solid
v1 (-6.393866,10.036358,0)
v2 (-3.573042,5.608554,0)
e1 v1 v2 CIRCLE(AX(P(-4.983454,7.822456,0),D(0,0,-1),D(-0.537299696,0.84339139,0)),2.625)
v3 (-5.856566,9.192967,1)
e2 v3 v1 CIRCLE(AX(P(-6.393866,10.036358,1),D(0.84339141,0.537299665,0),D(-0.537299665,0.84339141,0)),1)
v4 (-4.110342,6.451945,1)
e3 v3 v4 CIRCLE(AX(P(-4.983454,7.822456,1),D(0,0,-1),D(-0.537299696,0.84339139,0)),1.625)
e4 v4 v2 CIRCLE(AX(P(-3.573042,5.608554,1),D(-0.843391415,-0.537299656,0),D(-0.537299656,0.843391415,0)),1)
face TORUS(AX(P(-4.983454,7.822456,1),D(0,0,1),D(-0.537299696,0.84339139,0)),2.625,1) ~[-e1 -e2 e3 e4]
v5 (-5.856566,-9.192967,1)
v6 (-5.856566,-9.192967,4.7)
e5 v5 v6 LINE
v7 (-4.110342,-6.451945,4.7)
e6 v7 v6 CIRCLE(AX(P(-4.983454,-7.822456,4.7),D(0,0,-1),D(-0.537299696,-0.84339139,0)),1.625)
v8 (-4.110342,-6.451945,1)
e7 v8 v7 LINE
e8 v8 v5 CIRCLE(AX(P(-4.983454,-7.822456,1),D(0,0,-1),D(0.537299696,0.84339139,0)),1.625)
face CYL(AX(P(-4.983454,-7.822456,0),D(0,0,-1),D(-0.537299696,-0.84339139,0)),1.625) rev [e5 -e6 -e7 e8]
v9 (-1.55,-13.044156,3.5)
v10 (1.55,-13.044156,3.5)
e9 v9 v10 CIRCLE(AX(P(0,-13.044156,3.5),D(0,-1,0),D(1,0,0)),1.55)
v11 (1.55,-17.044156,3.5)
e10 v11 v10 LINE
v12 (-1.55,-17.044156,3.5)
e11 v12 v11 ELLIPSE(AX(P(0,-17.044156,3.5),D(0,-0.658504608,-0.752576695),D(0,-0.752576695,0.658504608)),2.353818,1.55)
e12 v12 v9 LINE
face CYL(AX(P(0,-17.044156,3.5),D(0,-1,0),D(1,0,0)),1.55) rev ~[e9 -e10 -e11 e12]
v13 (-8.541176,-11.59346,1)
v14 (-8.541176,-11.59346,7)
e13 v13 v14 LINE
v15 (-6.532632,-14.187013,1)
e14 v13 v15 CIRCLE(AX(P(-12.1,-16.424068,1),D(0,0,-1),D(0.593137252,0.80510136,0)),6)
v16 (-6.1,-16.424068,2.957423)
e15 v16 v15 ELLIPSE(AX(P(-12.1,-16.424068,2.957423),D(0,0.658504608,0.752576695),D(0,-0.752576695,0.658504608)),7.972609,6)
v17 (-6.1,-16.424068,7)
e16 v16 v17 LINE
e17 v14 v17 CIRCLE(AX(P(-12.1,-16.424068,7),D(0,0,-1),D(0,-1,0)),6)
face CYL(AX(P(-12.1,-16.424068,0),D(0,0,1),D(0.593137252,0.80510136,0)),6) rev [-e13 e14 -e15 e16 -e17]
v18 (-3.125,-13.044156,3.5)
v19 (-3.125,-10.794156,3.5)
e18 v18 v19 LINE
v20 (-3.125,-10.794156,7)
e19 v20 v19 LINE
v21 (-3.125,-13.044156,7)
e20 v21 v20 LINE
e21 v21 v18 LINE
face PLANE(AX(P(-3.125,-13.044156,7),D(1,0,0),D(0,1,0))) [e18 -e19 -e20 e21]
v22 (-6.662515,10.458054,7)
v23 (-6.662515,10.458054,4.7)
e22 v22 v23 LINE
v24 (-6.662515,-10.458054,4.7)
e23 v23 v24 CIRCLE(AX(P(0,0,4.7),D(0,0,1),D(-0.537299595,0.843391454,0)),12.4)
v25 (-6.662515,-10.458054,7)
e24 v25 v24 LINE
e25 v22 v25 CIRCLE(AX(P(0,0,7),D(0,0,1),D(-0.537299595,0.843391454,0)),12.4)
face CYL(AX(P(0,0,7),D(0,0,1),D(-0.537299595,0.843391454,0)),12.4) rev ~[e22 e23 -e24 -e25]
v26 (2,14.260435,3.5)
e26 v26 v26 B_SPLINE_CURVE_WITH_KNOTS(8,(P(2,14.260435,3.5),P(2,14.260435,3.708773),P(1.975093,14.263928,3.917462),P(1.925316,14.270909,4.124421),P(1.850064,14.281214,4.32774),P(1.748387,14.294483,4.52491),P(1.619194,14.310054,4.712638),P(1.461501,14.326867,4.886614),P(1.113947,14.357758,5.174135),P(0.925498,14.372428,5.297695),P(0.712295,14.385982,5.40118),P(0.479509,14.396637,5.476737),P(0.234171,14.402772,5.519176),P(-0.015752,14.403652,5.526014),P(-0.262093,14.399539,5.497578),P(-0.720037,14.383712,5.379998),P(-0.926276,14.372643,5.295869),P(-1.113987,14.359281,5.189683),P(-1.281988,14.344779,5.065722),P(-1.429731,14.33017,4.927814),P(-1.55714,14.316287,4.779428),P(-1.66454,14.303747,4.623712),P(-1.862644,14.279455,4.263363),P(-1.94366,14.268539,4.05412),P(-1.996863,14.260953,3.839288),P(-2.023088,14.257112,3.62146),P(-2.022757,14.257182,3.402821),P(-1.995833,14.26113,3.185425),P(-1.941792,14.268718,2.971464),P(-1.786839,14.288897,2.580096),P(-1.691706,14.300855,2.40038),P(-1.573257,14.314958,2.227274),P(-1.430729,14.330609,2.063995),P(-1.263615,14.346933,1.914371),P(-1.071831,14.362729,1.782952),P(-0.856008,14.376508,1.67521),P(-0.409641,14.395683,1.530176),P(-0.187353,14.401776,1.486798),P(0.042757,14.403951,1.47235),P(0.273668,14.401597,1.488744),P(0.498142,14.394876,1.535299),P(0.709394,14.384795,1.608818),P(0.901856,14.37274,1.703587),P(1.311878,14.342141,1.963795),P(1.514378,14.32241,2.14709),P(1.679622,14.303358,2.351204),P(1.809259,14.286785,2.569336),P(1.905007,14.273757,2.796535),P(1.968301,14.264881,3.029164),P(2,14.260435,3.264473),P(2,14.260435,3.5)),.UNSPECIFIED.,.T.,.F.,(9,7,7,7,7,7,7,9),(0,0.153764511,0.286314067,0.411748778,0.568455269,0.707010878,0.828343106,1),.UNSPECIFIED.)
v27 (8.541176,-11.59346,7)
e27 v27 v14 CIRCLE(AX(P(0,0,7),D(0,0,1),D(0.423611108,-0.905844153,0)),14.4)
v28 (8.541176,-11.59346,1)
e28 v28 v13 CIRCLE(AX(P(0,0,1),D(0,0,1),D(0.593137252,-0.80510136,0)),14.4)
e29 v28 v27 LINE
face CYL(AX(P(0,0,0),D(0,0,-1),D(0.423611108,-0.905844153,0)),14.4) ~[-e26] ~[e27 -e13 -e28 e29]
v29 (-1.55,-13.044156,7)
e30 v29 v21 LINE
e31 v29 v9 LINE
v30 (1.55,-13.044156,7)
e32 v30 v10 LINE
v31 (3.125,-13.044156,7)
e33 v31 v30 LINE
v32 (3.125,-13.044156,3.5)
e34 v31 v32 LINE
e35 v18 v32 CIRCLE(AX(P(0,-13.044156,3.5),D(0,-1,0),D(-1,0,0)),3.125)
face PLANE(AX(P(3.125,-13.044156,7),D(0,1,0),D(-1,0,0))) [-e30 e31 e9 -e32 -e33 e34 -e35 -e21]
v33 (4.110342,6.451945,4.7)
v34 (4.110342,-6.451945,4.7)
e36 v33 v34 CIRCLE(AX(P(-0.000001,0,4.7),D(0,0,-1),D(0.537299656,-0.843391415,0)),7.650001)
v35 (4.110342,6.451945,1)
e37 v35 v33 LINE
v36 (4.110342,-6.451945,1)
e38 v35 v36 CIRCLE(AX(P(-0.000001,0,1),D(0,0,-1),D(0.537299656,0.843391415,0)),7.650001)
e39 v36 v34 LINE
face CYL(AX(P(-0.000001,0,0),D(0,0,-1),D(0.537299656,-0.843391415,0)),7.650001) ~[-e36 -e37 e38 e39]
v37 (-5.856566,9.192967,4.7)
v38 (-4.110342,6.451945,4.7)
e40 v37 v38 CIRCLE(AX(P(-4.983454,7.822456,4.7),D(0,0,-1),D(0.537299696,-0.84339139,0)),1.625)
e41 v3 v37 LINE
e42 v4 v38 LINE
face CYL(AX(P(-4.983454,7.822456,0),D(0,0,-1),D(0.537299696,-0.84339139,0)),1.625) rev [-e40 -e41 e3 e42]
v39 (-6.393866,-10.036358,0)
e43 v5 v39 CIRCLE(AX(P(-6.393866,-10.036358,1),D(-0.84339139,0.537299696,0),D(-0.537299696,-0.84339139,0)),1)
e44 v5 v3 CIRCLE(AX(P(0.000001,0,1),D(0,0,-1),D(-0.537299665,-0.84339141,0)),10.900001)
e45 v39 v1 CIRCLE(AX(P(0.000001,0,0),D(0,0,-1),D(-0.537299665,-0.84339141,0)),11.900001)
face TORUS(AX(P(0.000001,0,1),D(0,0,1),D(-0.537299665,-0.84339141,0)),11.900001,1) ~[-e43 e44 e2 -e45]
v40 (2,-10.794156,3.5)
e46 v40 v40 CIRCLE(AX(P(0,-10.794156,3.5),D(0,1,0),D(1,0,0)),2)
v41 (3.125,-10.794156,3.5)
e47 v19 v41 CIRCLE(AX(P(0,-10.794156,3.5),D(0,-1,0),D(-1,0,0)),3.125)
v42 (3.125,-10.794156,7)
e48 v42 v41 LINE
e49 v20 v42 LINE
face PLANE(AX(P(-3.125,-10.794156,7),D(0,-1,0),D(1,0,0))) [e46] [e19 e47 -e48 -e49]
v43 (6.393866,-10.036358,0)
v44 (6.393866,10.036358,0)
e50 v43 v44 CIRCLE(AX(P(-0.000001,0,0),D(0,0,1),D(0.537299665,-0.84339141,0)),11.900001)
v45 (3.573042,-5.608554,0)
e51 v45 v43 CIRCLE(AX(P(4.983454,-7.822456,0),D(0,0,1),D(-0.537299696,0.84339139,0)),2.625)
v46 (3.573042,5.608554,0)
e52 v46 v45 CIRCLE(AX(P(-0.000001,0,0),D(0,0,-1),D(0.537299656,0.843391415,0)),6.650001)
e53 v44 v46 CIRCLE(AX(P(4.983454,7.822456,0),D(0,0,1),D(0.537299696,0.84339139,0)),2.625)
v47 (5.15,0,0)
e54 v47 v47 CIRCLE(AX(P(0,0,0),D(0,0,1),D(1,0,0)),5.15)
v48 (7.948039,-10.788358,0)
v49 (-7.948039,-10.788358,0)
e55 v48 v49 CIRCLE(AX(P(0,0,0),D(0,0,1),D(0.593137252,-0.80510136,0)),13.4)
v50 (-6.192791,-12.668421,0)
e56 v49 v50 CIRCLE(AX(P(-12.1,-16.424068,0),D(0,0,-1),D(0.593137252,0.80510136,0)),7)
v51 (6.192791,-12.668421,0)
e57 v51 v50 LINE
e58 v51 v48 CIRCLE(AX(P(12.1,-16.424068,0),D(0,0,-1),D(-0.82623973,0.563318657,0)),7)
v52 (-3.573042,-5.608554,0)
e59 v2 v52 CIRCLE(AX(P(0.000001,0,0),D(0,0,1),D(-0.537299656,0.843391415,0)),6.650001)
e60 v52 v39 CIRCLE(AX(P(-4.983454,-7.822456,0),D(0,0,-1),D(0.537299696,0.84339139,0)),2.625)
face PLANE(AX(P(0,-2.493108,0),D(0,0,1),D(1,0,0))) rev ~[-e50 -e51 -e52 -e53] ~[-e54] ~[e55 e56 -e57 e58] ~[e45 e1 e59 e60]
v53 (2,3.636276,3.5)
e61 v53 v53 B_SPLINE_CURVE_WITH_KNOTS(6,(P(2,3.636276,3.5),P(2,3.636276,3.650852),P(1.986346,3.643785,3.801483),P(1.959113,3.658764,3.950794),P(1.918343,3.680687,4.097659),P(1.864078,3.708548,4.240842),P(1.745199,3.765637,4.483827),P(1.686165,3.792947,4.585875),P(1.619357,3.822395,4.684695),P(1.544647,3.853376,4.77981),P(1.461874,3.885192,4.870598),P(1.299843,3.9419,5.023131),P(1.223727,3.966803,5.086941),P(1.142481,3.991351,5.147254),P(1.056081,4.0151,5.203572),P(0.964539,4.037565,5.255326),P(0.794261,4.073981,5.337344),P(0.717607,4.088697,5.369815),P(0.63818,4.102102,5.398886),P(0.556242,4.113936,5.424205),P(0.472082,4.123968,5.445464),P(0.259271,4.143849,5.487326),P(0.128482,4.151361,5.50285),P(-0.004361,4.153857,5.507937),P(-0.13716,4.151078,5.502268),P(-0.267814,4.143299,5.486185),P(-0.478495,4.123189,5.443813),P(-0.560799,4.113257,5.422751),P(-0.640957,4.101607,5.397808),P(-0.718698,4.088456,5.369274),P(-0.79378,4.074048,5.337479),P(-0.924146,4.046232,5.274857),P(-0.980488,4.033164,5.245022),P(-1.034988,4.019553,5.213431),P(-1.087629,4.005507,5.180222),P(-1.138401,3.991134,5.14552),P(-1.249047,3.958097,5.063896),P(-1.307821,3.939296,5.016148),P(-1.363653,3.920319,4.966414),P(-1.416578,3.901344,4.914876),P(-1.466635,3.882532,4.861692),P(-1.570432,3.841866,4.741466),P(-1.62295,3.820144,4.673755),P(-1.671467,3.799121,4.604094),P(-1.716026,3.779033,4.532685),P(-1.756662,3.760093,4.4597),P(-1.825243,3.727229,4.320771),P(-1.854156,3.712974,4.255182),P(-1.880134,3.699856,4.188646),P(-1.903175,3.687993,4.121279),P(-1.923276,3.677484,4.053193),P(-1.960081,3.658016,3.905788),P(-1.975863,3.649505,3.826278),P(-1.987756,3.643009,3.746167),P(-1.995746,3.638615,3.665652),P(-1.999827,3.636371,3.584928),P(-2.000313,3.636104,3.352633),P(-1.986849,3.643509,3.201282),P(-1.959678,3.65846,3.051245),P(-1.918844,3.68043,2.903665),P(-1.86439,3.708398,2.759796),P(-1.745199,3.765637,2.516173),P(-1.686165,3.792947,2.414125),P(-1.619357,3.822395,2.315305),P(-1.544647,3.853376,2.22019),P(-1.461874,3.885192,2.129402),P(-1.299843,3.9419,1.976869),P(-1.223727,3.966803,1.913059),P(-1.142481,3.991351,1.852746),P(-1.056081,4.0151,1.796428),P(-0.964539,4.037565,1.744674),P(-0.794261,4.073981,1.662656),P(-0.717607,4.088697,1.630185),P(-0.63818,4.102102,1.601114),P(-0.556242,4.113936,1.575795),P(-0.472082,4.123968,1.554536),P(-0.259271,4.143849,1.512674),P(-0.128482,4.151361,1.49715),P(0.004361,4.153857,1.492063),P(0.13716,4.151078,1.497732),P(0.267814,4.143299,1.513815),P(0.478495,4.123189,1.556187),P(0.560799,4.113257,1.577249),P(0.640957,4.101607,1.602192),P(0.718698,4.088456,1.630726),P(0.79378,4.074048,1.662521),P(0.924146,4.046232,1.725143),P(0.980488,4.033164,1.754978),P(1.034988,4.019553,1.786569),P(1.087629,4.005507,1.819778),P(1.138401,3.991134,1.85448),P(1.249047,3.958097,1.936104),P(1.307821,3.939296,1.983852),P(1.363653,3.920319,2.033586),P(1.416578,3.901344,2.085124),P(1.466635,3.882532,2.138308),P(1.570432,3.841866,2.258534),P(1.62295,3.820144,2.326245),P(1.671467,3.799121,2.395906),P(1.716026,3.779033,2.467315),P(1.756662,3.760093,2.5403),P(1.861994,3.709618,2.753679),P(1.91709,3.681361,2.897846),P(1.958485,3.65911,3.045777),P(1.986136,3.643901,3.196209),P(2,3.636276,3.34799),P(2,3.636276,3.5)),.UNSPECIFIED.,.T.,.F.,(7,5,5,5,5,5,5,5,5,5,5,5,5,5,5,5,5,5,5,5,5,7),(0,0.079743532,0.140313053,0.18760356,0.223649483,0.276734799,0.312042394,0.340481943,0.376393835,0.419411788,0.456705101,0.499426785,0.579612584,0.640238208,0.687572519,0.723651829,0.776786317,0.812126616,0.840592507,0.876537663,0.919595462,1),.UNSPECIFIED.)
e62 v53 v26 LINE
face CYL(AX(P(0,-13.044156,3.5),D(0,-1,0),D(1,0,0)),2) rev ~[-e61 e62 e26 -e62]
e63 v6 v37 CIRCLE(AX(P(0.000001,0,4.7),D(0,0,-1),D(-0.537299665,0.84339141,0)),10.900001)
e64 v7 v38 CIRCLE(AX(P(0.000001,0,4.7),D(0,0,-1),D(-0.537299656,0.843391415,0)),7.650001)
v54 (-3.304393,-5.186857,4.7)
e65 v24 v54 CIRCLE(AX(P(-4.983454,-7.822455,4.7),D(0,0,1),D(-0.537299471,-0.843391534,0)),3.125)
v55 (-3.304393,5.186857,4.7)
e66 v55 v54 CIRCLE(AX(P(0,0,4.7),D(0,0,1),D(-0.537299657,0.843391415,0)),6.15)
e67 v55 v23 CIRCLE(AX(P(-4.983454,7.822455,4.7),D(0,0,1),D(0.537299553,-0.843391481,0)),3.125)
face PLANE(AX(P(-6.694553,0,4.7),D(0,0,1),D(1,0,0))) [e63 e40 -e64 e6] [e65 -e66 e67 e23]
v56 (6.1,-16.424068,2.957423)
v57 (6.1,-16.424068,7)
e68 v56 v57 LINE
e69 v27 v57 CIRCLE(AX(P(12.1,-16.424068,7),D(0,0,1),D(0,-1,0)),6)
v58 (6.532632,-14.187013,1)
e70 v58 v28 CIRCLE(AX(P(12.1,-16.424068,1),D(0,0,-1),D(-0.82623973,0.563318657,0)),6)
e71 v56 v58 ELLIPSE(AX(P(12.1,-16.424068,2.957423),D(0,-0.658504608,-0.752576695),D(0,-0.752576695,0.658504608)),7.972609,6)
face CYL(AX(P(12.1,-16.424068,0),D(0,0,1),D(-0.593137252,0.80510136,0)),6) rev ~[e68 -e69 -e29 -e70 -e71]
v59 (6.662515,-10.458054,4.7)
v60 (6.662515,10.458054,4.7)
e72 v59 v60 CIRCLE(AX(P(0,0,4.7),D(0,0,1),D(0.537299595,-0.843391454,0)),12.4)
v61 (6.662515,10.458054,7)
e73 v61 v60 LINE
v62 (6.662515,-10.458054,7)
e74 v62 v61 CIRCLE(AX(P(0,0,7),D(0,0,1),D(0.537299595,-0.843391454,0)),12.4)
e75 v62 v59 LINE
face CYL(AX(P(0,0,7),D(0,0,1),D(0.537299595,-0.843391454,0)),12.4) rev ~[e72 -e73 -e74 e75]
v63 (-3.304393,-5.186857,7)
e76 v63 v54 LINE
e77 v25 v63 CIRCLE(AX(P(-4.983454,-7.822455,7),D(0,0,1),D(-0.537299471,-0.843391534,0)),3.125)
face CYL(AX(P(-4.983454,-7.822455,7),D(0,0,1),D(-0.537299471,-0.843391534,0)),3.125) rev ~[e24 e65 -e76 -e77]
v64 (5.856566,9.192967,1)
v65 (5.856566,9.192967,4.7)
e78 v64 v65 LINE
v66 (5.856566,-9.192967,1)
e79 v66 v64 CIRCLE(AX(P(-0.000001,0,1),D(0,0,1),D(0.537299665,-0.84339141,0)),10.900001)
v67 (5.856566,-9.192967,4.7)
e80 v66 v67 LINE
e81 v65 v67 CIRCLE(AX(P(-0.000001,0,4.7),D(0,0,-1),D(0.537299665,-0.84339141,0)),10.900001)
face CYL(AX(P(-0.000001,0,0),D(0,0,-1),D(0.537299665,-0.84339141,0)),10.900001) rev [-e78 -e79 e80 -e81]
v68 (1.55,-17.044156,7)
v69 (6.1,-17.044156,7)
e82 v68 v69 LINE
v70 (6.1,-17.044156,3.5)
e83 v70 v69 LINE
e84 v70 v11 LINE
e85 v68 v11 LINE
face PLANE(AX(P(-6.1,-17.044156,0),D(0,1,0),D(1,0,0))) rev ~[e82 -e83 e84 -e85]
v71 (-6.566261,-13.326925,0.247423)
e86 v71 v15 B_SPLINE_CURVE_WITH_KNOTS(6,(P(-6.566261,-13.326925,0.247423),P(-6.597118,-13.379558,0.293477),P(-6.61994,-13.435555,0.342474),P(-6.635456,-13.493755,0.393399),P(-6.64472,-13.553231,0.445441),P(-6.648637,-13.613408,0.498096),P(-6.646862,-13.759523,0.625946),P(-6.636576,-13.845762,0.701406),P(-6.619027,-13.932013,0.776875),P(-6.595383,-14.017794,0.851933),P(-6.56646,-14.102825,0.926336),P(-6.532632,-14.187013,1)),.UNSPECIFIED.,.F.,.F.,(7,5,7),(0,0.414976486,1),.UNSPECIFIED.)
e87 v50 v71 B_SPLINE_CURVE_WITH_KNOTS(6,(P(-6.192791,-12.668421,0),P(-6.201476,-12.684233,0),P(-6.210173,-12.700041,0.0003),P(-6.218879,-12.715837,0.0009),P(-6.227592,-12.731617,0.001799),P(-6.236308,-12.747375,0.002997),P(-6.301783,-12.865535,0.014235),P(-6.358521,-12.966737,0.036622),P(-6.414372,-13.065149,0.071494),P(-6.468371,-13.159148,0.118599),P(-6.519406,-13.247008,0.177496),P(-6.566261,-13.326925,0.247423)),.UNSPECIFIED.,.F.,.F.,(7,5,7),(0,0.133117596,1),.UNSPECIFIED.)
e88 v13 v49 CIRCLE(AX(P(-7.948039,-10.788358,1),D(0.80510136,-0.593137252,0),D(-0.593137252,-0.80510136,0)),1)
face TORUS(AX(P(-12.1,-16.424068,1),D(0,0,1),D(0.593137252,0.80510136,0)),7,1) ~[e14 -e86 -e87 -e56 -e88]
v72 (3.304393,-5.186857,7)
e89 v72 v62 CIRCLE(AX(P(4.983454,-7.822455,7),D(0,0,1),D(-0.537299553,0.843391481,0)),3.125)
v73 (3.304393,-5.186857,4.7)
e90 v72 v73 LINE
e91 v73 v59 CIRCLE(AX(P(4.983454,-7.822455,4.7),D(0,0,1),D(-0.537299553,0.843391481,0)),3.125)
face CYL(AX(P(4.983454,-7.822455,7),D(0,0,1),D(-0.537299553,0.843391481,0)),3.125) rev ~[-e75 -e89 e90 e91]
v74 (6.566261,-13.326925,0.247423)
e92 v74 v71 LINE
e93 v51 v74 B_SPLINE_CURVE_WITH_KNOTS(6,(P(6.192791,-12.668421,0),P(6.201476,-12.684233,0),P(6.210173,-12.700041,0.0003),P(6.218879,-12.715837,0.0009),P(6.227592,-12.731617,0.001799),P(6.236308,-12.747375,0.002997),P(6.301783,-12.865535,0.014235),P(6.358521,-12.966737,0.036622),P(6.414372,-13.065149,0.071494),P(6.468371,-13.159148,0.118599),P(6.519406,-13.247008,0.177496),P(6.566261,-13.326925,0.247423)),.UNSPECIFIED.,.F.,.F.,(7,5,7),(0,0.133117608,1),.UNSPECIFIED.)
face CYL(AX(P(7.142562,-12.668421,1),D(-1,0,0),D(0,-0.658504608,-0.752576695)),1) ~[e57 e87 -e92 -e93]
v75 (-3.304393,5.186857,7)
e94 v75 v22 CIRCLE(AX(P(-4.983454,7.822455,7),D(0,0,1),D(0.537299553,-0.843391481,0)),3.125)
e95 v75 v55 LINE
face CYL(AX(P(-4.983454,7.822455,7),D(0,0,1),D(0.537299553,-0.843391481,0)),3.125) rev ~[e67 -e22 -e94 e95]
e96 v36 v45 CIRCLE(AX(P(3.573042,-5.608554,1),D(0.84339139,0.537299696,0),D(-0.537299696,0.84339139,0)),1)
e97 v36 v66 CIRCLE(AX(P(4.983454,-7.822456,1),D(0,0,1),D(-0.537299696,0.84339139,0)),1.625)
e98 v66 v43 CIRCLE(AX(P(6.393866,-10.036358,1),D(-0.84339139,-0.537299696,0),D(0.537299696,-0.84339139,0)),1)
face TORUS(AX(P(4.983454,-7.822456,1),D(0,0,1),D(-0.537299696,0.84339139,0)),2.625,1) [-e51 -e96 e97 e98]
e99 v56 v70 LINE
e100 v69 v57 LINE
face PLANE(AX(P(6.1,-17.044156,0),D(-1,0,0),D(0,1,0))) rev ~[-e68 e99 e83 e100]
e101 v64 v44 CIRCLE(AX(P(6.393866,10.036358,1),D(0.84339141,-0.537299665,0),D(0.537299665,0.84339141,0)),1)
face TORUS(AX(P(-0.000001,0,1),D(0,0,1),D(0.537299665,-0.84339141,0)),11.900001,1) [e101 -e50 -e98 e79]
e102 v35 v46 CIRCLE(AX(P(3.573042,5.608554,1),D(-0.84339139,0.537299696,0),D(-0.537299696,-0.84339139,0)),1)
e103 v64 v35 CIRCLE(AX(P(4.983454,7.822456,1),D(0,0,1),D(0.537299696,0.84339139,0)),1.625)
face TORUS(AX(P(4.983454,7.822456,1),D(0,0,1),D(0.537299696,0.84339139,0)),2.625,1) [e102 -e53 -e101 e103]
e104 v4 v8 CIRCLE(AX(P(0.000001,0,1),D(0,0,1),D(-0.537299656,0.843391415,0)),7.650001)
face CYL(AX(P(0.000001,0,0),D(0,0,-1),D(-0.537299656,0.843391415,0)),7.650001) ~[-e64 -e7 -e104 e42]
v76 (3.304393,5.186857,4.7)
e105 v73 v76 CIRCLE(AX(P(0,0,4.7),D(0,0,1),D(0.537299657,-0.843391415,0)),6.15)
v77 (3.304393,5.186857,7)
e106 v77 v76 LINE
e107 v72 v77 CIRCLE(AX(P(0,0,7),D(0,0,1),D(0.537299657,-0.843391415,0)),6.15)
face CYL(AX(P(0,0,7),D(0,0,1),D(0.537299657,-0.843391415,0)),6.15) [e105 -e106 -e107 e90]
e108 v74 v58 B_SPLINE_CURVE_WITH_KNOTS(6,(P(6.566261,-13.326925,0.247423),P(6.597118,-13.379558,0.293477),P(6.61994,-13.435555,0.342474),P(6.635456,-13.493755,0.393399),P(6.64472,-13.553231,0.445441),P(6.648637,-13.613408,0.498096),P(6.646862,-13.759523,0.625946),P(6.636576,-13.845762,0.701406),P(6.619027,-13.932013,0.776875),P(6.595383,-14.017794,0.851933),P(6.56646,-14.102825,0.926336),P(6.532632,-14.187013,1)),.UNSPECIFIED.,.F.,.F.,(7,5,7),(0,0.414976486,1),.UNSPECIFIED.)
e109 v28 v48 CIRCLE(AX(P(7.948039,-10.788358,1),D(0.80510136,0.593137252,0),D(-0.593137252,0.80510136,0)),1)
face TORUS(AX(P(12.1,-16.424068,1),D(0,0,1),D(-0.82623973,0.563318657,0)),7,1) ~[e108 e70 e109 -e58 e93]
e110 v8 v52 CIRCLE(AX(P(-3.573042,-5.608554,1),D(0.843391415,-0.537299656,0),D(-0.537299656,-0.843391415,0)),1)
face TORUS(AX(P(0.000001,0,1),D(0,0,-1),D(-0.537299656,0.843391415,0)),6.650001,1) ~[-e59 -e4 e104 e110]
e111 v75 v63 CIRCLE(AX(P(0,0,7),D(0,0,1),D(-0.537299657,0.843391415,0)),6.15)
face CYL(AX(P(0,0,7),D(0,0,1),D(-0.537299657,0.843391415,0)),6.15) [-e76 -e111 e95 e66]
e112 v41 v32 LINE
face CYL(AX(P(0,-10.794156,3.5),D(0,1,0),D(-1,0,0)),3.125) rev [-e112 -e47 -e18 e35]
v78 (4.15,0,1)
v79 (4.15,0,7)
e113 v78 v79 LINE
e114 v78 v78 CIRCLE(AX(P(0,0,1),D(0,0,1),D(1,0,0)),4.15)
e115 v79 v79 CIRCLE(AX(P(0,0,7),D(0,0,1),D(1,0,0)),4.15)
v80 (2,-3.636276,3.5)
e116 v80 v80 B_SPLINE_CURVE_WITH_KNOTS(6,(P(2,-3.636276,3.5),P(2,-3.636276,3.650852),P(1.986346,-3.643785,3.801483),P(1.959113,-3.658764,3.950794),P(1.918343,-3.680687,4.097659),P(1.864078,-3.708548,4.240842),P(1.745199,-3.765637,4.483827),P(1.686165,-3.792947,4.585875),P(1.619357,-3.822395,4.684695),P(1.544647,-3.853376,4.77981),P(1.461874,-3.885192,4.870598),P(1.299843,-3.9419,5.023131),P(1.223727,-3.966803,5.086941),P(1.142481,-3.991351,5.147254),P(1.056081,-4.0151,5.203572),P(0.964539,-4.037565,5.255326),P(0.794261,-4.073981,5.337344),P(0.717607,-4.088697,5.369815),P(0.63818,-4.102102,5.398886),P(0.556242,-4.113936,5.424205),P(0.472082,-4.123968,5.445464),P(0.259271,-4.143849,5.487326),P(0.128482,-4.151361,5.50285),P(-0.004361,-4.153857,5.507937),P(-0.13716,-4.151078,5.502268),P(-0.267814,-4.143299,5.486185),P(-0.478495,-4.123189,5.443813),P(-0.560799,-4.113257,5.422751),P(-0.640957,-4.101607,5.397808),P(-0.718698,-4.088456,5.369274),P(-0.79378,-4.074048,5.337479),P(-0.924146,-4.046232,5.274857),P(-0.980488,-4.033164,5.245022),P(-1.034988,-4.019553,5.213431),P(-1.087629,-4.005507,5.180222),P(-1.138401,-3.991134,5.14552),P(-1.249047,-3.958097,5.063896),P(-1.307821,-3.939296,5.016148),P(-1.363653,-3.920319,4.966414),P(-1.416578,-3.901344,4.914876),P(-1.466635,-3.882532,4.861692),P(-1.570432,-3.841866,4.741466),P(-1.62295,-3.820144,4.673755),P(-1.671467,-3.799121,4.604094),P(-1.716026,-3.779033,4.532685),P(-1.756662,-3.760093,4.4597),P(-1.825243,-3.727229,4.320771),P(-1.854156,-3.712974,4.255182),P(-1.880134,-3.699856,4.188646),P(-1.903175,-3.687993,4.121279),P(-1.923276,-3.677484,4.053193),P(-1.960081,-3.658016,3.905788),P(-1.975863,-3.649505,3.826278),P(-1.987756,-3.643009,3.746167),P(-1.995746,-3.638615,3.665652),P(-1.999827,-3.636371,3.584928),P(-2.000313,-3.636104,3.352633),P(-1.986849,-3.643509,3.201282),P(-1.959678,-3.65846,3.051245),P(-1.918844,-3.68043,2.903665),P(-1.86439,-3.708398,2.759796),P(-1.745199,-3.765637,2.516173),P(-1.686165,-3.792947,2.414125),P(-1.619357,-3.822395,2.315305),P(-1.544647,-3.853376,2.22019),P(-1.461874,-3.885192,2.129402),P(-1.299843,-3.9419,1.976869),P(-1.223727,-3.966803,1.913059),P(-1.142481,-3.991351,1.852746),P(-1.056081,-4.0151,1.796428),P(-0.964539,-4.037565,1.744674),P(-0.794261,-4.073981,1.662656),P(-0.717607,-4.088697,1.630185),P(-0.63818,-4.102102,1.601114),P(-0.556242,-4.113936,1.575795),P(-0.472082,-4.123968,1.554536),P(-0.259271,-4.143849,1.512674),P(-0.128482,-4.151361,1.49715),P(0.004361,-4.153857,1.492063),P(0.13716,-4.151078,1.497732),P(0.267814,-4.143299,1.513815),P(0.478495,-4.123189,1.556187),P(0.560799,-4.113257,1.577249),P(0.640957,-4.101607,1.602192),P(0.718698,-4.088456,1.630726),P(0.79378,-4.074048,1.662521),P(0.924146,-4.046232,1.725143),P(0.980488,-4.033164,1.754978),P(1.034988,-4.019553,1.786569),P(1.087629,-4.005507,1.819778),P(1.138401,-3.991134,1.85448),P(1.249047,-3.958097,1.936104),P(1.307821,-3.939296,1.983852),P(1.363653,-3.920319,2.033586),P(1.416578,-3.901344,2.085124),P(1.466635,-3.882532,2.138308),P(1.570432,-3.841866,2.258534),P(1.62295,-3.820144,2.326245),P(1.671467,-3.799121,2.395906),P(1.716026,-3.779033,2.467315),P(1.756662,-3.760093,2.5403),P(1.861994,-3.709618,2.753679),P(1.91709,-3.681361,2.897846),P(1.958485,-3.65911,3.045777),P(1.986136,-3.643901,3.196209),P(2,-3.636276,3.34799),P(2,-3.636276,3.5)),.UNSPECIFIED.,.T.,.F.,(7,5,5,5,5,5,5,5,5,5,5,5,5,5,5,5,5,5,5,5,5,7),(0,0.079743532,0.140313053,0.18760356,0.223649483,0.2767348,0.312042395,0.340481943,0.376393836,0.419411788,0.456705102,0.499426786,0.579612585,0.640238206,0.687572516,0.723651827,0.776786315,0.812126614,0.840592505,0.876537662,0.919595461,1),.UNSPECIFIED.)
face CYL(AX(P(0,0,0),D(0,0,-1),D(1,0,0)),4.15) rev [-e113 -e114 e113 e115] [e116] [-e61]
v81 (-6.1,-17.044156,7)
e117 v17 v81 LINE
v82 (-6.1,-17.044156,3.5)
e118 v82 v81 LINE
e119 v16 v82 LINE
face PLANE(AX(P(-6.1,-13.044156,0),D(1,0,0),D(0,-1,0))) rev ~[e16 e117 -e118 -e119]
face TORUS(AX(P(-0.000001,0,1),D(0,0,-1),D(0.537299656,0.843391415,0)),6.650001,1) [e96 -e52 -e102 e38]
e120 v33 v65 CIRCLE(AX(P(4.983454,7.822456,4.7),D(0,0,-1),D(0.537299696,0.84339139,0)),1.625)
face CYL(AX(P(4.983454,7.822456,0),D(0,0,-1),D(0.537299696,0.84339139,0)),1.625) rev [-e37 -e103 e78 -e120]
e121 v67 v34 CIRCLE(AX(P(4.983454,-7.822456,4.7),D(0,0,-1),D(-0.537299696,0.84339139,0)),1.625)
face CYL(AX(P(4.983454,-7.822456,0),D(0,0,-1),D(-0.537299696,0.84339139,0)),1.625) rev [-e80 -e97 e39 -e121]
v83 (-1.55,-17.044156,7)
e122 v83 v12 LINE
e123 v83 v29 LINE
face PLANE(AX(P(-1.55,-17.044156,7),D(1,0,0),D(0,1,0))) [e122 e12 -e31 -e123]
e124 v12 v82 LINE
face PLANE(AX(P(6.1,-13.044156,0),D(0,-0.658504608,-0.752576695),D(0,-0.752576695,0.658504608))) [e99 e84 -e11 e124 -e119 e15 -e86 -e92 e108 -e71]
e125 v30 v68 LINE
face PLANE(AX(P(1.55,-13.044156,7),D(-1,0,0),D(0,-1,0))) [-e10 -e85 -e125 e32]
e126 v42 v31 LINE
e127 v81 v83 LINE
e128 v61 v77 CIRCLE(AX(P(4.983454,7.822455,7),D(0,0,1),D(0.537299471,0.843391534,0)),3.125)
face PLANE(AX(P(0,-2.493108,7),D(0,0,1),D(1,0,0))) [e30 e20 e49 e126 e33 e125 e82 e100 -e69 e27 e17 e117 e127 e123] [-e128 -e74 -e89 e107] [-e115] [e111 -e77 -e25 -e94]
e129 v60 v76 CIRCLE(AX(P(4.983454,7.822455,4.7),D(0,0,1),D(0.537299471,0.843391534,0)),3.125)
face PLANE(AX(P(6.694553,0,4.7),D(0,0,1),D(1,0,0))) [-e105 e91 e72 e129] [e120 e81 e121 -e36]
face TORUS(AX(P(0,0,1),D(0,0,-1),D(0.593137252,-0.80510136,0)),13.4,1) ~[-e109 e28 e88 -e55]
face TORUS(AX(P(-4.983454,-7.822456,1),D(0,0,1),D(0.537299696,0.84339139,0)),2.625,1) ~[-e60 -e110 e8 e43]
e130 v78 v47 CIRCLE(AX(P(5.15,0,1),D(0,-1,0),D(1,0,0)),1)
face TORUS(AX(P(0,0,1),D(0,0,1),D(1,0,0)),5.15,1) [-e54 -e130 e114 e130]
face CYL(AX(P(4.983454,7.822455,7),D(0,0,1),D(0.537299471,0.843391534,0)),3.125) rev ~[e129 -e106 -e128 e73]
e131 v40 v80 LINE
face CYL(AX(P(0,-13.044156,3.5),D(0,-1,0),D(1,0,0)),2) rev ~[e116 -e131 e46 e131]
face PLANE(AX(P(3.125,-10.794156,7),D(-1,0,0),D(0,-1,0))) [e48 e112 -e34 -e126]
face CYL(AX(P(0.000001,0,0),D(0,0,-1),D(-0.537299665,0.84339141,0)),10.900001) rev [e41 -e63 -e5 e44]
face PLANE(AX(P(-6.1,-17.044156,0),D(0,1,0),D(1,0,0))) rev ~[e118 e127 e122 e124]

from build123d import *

# Parameters (mm, degrees)
SKETCH_R          = 4.15
EXTRUDE_DEPTH     = 7
FILLET_R          = 6
POCKET_DEPTH      = 20.501
POCKET_DEPTH_BACK = 8.301
FILLET001_R       = 1
SKETCH002_R       = 1.55
POCKET001_DEPTH   = 4
SKETCH003_R       = 2
POCKET002_DEPTH   = 27.445156
POCKET003_DEPTH   = 3.5
POCKET004_DEPTH   = 2.25
POCKET005_DEPTH   = 2.3


with BuildPart() as part:
    # Sketch → Extrude (new body)
    with BuildSketch(Plane.XY):
        with BuildLine():
            ThreePointArc((6.1, -13.044156), (0, 14.4), (-6.1, -13.044156))
            Line((-6.1, -13.044156), (-6.1, -17.044156))
            Line((-6.1, -17.044156), (6.1, -17.044156))
            Line((6.1, -17.044156), (6.1, -13.044156))
        make_face()
        Circle(SKETCH_R, mode=Mode.SUBTRACT)
        with BuildLine():
            ThreePointArc((-4.110342, 6.451945), (-7.65, 0), (-4.110342, -6.451945))
            ThreePointArc((-5.856566, -9.192967), (-3.612943, -8.695568), (-4.110342, -6.451945))
            ThreePointArc((-5.856566, 9.192967), (-10.9, 0), (-5.856566, -9.192967))
            ThreePointArc((-4.110342, 6.451945), (-3.612943, 8.695568), (-5.856566, 9.192967))
        make_face(mode=Mode.SUBTRACT)
        with BuildLine():
            ThreePointArc((4.110342, -6.451945), (7.65, 0), (4.110342, 6.451945))
            ThreePointArc((5.856566, 9.192967), (3.612943, 8.695568), (4.110342, 6.451945))
            ThreePointArc((5.856566, -9.192967), (10.9, 0), (5.856566, 9.192967))
            ThreePointArc((4.110342, -6.451945), (3.612943, -8.695568), (5.856566, -9.192967))
        make_face(mode=Mode.SUBTRACT)
    extrude(amount=EXTRUDE_DEPTH)

    # Fillet
    fillet_edges = [part.edges().sort_by_distance(p)[0] for p in [
        (6.1, -13.044156, 3.5),
        (-6.1, -13.044156, 3.5),
    ]]
    fillet(fillet_edges, radius=FILLET_R)

    # Sketch001 → Pocket (cut, two sides)
    with BuildSketch(Plane.YZ.offset(6.1)) as pocket_sk:
        Polygon((-17.044156, 3.5), (-17.044156, 0), (-13.044156, 0), align=None)
    extrude(amount=-POCKET_DEPTH, mode=Mode.SUBTRACT)
    extrude(pocket_sk.sketch, amount=POCKET_DEPTH_BACK, mode=Mode.SUBTRACT)

    # Fillet001
    fillet001_edges = [part.edges().sort_by_distance(p)[0] for p in [
        (0, 14.4, 0),
        (7.780531, -12.259672, 0),
        (0, -13.044156, 0),
        (-7.780531, -12.259672, 0),
        (-7.65, 0, 0),
        (-3.612943, 8.695568, 0),
        (-3.612943, -8.695568, 0),
        (-10.9, 0, 0),
        (-4.15, 0, 0),
        (3.612943, -8.695568, 0),
        (7.65, 0, 0),
        (10.9, 0, 0),
        (3.612943, 8.695568, 0),
    ]]
    fillet(fillet001_edges, radius=FILLET001_R)

    # Sketch002 → Pocket001 (cut)
    with BuildSketch(Plane.XZ.offset(17.044156)):
        with Locations((0, 3.5)):
            Circle(SKETCH002_R)
    extrude(amount=-POCKET001_DEPTH, mode=Mode.SUBTRACT)

    # Sketch003 → Pocket002 (cut, through all)
    with BuildSketch(Plane.XZ.offset(13.044156)):
        with Locations((0, 3.5)):
            Circle(SKETCH003_R)
    extrude(amount=-POCKET002_DEPTH, mode=Mode.SUBTRACT)

    # Sketch004 → Pocket003 (cut)
    with BuildSketch(Plane.XY.offset(7)):
        Polygon((-3.125, -10.794156), (3.125, -10.794156), (3.125, -13.044156), (1.55, -13.044156), (1.55, -17.044156), (-1.55, -17.044156), (-1.55, -13.044156), (-3.125, -13.044156), align=None)
    extrude(amount=-POCKET003_DEPTH, mode=Mode.SUBTRACT)

    # Sketch005 → Pocket004 (cut)
    with BuildSketch(Plane.XZ.offset(10.794156)):
        with BuildLine():
            Line((-3.125, 3.5), (3.125, 3.5))
            ThreePointArc((-3.125, 3.5), (0, 0.375), (3.125, 3.5))
        make_face()
    extrude(amount=POCKET004_DEPTH, mode=Mode.SUBTRACT)

    # Sketch006 → Pocket005 (cut)
    with BuildSketch(Plane.XY.offset(7)):
        with BuildLine():
            ThreePointArc((-3.304393, 5.186857), (-2.347856, 9.501517), (-6.662515, 10.458054))
            ThreePointArc((-6.662515, 10.458054), (-12.4, 0), (-6.662515, -10.458054))
            ThreePointArc((-6.662515, -10.458054), (-2.347856, -9.501517), (-3.304393, -5.186857))
            ThreePointArc((-3.304393, 5.186857), (-6.15, 0), (-3.304393, -5.186857))
        make_face()
        with BuildLine():
            ThreePointArc((6.662515, 10.458054), (2.347856, 9.501517), (3.304393, 5.186857))
            ThreePointArc((3.304393, -5.186857), (6.15, 0), (3.304393, 5.186857))
            ThreePointArc((3.304393, -5.186857), (2.347856, -9.501517), (6.662515, -10.458054))
            ThreePointArc((6.662515, -10.458054), (12.4, 0), (6.662515, 10.458054))
        make_face()
    extrude(amount=-POCKET005_DEPTH, mode=Mode.SUBTRACT)


solid = part.part
